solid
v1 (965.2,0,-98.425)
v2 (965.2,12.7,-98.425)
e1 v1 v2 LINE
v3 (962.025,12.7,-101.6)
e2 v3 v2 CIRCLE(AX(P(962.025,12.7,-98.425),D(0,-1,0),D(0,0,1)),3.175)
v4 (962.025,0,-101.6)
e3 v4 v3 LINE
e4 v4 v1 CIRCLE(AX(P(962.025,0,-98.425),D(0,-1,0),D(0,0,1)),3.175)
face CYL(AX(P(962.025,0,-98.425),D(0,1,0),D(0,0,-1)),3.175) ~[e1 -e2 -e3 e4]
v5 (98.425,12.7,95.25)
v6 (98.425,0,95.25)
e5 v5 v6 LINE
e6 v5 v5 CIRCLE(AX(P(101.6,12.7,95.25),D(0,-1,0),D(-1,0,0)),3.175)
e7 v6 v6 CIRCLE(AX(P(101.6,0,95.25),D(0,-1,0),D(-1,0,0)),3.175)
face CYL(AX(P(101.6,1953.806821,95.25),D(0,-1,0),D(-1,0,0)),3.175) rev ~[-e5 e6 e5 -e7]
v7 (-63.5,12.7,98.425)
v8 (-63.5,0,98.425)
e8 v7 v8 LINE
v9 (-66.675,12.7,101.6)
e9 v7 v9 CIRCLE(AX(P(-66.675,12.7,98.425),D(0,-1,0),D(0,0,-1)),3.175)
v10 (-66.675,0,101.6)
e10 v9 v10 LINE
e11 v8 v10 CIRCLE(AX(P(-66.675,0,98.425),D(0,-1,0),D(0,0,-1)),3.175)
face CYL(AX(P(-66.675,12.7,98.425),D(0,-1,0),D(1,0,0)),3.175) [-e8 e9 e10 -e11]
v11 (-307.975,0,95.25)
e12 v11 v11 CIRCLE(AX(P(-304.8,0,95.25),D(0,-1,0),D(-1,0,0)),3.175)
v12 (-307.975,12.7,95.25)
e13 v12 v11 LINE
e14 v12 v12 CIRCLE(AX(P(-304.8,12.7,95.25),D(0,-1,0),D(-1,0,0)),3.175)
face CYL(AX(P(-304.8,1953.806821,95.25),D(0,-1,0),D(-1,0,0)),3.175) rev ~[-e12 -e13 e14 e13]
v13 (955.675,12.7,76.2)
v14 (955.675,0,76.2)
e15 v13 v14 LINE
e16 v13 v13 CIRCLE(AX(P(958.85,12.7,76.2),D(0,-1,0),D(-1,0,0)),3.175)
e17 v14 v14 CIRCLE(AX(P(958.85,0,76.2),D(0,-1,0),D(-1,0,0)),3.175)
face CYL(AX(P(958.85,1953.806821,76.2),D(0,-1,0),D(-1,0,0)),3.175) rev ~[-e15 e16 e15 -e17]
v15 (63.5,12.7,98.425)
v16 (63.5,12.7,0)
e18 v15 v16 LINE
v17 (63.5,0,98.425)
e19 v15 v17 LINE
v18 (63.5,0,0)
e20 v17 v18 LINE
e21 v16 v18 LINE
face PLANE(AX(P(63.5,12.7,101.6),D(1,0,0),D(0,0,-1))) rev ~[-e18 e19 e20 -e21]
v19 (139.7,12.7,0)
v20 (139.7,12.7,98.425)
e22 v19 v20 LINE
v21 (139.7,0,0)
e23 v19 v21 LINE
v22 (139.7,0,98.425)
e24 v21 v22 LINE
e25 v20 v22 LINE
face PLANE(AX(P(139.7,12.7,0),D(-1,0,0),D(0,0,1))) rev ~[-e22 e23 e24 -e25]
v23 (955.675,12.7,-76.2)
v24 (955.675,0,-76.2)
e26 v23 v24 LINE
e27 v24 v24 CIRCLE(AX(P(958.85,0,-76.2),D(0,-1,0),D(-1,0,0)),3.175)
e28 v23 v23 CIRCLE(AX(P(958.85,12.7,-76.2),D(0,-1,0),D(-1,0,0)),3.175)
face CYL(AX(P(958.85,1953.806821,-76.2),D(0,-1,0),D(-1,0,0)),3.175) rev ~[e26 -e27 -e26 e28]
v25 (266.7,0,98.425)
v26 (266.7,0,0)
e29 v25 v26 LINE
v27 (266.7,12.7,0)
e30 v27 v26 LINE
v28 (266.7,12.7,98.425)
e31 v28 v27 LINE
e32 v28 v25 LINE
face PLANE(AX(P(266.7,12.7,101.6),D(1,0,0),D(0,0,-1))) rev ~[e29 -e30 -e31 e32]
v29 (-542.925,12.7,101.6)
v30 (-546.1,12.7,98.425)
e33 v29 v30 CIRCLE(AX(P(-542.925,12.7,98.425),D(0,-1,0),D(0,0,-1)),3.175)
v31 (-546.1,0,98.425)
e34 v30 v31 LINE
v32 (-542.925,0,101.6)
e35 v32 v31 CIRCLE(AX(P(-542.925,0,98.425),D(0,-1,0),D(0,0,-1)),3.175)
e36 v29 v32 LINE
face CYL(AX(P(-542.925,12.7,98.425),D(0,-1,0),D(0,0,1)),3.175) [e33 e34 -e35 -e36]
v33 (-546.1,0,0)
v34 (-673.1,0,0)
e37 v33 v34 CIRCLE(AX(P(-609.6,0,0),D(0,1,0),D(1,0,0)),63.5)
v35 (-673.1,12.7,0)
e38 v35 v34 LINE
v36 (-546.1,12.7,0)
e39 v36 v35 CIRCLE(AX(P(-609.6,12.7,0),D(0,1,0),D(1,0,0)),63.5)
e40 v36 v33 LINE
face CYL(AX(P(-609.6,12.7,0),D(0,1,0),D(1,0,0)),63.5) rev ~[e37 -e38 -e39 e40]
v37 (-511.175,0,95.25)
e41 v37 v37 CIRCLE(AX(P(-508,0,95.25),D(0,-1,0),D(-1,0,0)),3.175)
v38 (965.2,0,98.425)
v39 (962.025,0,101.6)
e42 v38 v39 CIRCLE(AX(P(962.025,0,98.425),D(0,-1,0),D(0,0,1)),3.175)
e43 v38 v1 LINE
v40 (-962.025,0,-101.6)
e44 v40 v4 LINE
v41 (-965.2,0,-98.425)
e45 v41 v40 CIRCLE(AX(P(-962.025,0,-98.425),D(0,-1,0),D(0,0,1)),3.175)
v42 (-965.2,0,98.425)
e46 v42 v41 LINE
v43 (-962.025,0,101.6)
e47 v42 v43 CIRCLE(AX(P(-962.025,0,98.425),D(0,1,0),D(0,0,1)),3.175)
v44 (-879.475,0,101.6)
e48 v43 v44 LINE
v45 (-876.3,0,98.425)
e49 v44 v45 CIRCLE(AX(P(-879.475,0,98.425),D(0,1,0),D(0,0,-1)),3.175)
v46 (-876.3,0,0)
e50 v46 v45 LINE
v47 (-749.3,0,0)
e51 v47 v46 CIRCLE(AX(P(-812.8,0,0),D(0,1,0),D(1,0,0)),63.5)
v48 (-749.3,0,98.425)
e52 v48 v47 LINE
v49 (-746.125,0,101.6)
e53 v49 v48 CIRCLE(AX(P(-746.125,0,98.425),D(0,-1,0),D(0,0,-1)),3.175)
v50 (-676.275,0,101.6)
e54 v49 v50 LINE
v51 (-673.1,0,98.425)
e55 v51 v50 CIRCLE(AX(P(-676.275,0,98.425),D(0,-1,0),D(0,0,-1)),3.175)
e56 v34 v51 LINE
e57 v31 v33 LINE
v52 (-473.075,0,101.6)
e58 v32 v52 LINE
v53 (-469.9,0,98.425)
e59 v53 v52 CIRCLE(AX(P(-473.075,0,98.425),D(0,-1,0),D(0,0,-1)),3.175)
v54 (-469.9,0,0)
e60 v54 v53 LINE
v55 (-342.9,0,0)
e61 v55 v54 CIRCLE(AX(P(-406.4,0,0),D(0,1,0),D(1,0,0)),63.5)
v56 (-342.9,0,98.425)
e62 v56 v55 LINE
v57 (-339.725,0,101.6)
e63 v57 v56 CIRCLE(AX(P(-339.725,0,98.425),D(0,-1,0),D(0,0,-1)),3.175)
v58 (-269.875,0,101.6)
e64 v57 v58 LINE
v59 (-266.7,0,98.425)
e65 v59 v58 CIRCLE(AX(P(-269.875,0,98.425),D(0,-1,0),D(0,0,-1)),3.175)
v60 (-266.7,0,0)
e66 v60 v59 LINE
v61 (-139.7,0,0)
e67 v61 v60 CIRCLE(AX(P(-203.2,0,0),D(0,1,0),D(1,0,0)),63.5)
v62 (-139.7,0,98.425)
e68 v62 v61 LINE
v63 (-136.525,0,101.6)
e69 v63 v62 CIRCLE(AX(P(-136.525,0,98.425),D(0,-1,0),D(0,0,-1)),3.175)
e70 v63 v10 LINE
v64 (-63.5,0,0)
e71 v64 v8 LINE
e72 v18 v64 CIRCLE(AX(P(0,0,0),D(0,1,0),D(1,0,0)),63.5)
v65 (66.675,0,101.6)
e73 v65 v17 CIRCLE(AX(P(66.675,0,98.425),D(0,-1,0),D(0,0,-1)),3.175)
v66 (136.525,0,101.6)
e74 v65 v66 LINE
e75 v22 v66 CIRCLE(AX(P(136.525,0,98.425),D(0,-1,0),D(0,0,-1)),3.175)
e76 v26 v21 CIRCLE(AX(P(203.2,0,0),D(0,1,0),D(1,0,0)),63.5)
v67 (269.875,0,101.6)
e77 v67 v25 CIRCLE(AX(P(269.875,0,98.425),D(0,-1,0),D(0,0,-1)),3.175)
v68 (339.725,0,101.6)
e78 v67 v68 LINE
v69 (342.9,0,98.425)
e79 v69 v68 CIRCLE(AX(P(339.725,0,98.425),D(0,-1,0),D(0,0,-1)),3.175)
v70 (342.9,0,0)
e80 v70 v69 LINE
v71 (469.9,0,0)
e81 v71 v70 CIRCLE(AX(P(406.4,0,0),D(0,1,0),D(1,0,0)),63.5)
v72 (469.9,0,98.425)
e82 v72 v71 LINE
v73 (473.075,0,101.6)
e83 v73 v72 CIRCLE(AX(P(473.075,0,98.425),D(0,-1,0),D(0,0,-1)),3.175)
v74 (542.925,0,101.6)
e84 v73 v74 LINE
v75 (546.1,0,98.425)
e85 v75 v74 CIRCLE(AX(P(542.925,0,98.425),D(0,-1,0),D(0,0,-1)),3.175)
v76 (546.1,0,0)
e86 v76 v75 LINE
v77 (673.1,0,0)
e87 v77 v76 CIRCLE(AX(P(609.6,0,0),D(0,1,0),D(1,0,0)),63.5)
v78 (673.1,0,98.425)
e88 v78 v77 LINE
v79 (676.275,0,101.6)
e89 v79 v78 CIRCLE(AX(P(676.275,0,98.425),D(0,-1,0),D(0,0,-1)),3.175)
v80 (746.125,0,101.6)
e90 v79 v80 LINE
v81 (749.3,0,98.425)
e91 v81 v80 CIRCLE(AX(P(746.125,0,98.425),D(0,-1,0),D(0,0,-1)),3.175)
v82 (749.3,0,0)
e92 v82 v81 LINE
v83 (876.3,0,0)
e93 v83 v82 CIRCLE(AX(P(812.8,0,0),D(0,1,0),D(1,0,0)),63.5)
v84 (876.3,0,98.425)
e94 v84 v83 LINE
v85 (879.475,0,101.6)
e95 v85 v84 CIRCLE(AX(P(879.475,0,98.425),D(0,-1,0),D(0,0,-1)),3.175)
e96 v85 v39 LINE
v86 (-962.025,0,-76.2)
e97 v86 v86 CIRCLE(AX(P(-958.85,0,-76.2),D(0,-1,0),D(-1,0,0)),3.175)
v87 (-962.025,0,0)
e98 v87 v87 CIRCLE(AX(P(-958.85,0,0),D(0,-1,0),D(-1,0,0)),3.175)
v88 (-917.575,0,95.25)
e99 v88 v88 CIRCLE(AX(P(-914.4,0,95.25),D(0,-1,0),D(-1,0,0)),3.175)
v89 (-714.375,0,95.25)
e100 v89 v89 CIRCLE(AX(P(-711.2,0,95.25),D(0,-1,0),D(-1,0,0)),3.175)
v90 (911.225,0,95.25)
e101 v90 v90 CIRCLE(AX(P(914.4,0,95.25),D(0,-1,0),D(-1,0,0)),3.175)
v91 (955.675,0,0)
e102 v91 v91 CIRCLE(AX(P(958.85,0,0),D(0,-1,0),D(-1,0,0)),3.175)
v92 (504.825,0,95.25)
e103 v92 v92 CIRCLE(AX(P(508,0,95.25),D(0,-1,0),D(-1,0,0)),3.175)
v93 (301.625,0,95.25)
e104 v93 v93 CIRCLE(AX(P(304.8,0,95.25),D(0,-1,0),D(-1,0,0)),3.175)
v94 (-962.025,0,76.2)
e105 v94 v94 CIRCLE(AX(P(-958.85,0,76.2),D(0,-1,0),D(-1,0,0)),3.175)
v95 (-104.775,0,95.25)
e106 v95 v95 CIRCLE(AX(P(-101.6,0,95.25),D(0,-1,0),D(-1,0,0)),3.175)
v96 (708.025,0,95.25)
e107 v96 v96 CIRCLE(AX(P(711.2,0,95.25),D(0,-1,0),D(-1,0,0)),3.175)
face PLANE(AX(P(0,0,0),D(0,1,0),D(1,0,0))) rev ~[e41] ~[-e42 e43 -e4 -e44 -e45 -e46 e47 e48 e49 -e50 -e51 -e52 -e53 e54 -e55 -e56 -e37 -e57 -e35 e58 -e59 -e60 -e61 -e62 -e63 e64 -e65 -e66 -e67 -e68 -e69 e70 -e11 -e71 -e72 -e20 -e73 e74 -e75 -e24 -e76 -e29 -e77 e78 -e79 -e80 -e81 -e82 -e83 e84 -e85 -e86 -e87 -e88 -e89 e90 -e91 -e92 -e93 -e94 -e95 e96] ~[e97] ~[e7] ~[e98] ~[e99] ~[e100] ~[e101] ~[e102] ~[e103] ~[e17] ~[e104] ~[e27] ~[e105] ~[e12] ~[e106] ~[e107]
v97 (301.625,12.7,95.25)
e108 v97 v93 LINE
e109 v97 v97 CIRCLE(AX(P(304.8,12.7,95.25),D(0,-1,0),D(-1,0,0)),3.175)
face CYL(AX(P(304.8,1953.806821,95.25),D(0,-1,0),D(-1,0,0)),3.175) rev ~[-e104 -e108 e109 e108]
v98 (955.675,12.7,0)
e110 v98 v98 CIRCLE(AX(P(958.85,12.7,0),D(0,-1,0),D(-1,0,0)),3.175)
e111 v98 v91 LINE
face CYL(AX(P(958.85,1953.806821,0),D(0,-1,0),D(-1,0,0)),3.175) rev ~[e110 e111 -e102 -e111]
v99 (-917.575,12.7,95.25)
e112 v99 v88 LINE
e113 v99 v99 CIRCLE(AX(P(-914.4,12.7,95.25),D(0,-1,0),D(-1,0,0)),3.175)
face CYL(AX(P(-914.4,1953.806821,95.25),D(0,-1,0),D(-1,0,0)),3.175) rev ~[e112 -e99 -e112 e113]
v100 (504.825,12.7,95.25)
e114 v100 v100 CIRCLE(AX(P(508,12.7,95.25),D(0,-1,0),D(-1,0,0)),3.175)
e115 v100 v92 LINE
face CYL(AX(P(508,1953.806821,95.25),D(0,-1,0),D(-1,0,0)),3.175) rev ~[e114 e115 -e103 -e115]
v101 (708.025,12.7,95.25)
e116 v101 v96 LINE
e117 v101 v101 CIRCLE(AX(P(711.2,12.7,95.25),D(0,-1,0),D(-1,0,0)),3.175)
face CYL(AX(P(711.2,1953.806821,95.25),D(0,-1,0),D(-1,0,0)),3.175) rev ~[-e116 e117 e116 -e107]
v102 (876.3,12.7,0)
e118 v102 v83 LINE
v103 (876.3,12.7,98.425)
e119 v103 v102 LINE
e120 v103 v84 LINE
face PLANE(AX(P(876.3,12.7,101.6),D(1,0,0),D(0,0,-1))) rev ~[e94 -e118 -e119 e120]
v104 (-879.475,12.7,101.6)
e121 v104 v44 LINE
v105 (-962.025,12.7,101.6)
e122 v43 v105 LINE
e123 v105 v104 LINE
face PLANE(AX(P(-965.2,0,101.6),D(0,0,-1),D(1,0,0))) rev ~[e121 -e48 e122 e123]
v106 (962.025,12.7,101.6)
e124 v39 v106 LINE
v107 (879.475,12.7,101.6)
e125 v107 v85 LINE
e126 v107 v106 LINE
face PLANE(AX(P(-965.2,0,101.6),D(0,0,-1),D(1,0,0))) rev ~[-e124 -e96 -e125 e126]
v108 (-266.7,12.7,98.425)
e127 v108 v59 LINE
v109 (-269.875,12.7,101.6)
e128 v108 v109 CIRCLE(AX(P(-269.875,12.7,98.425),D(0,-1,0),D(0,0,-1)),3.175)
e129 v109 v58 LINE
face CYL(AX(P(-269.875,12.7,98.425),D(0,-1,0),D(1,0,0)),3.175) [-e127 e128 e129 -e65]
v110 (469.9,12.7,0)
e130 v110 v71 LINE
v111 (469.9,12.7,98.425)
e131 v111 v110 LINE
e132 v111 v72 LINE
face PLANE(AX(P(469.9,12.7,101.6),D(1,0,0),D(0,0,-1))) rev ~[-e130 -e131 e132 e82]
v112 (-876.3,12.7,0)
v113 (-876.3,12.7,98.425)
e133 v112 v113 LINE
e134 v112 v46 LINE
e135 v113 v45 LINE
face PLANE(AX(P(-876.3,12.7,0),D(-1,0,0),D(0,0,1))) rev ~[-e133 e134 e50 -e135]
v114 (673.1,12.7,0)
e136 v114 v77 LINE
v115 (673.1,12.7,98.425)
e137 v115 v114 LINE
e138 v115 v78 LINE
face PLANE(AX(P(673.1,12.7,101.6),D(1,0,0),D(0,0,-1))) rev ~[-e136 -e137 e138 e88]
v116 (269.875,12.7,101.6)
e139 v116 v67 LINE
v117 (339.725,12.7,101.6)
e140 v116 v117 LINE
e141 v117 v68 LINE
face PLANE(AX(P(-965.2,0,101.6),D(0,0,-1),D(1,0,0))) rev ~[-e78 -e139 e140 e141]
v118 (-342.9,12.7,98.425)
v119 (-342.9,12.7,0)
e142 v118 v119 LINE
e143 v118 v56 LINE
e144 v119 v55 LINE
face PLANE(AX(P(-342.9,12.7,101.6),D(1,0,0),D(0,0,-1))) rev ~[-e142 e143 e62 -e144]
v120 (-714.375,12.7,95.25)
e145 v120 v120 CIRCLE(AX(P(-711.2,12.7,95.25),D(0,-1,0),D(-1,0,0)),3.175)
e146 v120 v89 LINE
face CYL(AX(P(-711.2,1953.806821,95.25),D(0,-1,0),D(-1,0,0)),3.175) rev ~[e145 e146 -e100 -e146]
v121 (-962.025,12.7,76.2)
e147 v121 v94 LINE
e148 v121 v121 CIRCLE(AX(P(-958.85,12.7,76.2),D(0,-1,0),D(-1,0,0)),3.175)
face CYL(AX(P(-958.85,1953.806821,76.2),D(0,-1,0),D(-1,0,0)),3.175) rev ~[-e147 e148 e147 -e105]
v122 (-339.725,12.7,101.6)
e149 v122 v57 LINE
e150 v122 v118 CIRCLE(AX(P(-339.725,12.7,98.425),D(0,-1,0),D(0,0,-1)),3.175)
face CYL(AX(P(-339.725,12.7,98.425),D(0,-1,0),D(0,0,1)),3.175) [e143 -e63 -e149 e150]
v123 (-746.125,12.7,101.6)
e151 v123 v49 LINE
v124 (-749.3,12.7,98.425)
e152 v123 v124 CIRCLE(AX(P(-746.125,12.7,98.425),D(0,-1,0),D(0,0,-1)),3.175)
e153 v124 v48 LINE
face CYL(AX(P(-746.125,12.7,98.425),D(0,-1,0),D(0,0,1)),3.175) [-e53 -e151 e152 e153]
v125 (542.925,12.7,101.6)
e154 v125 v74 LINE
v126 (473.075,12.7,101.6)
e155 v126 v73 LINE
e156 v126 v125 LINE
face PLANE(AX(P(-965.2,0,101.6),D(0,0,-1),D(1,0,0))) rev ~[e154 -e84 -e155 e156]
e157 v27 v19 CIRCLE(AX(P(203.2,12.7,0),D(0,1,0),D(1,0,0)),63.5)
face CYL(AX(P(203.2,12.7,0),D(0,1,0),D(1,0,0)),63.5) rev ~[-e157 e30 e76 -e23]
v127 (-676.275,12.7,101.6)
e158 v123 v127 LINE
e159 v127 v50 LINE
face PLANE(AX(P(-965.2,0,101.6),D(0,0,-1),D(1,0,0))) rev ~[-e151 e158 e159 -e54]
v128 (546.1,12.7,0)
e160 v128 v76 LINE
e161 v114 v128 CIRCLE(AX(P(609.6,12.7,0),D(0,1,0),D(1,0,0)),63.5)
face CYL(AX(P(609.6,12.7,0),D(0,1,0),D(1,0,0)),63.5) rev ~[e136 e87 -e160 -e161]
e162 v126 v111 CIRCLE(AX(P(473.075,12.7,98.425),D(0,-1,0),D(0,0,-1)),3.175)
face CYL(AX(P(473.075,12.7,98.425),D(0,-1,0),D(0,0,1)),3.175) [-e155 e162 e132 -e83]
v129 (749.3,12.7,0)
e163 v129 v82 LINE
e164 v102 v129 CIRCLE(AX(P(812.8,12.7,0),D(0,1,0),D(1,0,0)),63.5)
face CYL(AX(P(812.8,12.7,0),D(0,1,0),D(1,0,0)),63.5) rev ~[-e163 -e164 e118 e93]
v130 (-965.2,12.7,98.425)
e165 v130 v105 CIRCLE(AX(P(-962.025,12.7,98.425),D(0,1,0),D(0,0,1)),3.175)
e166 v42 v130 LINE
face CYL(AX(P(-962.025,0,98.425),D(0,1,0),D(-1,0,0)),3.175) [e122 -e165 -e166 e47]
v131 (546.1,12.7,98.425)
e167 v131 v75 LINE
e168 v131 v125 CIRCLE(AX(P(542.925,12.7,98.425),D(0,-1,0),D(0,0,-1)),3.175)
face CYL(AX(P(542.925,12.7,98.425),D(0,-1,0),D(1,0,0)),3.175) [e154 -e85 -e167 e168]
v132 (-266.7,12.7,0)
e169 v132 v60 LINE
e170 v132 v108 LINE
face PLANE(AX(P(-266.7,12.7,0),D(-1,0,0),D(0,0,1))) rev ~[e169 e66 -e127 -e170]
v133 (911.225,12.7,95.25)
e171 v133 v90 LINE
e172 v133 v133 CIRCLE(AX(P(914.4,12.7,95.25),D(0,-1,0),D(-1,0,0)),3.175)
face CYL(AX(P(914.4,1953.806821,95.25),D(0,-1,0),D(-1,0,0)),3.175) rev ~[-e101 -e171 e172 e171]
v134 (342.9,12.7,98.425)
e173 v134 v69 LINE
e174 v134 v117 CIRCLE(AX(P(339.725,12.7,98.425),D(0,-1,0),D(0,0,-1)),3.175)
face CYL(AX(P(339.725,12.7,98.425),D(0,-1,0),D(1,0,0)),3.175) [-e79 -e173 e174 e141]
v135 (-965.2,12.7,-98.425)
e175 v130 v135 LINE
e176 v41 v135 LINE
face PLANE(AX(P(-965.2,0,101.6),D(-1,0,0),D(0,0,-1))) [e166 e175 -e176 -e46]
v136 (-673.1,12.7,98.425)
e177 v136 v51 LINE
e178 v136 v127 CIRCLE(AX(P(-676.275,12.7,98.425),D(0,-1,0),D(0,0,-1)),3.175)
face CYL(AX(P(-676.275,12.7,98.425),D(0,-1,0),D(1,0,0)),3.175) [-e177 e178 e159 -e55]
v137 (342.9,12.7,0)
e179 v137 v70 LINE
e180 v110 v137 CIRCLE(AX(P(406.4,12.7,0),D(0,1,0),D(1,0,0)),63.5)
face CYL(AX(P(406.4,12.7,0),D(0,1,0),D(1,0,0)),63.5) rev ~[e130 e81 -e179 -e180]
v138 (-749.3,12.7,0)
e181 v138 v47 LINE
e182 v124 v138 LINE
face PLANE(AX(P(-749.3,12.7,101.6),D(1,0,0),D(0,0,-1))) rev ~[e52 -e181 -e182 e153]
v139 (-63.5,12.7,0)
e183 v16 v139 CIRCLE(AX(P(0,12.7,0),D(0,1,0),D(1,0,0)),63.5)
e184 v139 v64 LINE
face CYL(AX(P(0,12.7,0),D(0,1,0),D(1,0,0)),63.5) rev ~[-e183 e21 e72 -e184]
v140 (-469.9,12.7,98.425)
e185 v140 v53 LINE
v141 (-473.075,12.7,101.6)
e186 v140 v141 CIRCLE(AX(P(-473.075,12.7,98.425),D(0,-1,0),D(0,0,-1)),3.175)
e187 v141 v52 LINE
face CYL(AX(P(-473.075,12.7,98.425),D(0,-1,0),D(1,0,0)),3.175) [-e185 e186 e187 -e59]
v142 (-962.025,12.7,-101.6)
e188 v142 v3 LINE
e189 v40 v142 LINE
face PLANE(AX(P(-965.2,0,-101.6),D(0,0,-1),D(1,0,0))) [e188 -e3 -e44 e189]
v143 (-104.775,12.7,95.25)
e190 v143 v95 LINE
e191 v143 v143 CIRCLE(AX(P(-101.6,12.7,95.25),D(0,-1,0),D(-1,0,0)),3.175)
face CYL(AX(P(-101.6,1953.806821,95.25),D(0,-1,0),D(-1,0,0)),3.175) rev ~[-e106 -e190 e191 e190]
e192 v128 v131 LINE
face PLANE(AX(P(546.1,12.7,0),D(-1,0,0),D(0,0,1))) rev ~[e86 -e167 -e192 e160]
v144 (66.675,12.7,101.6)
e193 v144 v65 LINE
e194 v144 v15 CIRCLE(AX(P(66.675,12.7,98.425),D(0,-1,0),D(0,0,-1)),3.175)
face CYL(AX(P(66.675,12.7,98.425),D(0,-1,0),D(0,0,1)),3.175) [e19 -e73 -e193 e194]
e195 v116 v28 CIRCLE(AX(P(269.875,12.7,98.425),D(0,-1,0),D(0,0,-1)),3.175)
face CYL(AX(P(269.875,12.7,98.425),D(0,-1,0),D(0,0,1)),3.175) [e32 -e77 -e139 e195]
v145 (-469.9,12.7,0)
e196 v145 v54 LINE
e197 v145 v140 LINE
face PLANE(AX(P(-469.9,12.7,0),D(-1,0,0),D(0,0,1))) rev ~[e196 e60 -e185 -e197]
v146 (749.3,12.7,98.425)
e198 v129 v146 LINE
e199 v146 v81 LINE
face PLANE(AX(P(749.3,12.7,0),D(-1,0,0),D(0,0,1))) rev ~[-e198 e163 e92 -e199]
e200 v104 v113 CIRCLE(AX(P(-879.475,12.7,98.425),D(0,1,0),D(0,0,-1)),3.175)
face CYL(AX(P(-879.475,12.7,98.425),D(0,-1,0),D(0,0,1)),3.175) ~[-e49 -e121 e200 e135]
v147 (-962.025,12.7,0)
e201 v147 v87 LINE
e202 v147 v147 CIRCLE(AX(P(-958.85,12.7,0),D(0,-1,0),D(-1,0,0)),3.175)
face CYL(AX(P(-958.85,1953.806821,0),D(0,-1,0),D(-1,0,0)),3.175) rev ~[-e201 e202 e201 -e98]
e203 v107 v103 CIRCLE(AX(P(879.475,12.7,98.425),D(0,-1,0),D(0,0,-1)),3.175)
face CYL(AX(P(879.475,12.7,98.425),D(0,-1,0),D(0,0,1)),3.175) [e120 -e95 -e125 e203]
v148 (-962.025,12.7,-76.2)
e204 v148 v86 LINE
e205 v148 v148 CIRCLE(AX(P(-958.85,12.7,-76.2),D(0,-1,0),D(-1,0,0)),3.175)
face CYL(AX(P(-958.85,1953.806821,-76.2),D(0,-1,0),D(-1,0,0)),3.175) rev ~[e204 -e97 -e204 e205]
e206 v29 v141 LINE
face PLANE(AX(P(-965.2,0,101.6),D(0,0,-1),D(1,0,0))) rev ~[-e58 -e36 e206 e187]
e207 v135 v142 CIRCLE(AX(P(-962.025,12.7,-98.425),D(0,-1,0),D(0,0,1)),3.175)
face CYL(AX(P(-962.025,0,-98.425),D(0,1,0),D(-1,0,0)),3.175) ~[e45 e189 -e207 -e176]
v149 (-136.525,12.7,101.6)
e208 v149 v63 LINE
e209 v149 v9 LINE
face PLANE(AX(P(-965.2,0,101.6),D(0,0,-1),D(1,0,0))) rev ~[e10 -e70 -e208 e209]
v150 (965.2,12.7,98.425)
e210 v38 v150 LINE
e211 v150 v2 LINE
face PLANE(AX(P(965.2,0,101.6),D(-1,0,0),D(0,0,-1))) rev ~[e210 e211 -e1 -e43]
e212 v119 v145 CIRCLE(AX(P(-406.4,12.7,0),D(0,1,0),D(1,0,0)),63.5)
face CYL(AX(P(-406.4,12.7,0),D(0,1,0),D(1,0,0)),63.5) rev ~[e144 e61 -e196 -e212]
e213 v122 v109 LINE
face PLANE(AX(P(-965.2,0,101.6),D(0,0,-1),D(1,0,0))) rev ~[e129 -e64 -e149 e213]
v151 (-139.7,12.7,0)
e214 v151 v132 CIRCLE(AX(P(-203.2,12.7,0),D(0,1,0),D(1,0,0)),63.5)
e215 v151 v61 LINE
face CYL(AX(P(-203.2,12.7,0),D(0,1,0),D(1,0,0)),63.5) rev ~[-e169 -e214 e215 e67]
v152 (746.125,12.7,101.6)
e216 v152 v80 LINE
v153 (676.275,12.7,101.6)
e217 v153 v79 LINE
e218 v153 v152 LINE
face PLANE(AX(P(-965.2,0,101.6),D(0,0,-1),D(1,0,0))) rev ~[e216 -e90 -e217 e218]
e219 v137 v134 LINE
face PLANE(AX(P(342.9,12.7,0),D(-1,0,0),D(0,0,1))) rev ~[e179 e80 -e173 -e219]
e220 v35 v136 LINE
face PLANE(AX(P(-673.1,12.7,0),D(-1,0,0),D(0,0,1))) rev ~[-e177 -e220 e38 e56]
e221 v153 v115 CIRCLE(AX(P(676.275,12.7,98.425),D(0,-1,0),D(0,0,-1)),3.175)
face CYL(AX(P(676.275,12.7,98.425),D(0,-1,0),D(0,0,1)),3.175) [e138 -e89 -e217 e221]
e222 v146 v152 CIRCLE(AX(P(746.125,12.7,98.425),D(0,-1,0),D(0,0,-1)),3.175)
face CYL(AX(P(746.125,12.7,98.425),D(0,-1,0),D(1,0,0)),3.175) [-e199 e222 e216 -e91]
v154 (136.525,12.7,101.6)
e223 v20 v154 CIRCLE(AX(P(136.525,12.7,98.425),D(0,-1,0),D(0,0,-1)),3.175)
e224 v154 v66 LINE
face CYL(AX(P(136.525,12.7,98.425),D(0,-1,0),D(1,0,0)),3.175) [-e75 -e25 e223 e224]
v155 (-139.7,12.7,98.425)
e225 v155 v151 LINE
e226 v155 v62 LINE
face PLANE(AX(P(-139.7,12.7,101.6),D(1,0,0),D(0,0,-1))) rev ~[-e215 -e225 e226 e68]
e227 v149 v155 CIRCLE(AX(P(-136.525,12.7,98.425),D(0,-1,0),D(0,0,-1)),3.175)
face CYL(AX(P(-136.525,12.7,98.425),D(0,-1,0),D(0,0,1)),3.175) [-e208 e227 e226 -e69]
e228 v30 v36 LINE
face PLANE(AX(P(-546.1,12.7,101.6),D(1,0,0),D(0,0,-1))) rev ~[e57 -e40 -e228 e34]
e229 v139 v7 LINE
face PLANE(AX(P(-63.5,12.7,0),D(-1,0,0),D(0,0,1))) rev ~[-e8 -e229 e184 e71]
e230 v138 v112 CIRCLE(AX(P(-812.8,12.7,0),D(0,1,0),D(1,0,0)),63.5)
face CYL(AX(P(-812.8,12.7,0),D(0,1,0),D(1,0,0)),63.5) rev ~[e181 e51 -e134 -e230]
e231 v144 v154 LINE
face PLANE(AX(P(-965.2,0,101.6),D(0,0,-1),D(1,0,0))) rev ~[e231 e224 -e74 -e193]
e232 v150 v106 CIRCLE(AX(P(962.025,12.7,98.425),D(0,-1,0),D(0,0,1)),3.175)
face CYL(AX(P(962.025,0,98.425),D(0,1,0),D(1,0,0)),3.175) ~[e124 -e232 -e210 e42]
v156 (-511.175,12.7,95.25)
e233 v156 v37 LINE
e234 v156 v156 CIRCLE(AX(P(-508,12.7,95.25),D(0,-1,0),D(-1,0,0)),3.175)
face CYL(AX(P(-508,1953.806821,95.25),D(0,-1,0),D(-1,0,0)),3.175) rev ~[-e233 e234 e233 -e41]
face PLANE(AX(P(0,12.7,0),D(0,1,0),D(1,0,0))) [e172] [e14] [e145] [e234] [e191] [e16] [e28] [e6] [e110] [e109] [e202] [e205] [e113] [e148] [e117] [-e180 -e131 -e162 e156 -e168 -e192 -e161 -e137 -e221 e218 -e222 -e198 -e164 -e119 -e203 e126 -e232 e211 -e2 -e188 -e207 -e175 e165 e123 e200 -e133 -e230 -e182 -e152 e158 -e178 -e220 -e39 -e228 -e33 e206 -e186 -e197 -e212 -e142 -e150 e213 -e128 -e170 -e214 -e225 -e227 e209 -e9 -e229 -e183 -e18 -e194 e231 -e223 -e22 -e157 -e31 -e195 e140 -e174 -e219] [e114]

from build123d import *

# Parameters (mm, degrees)
SKETCH1_W                   = 1930.4
SKETCH1_H                   = 203.2
BOSS_EXTRUDE1_DEPTH         = 12.7
CUT_EXTRUDE1_DEPTH          = 13.7
FILLET1_R                   = 3.175
F_1_4_0_25_DIAMETER_HOLE1_D = 6.35


with BuildPart() as part:
    # Sketch1 → Boss-Extrude1 (new body)
    with BuildSketch(Plane(origin=(0, 0, 0), x_dir=(1, 0, 0), z_dir=(0, 1, 0))):
        Rectangle(SKETCH1_W, SKETCH1_H)
    extrude(amount=BOSS_EXTRUDE1_DEPTH)

    # Sketch2 → Cut-Extrude1 (cut, through all)
    with BuildSketch(Plane(origin=(0, 12.7, 0), x_dir=(1, 0, 0), z_dir=(0, 1, 0))):
        with BuildLine():
            Line((-876.3, 0), (-876.3, -101.6))
            Line((-876.3, -101.6), (-749.3, -101.6))
            Line((-749.3, -101.6), (-749.3, 0))
            ThreePointArc((-749.3, 0), (-812.8, 63.5), (-876.3, 0))
        make_face()
        with BuildLine():
            Line((-673.1, 0), (-673.1, -101.6))
            Line((-673.1, -101.6), (-546.1, -101.6))
            Line((-546.1, -101.6), (-546.1, 0))
            ThreePointArc((-546.1, 0), (-609.6, 63.5), (-673.1, 0))
        make_face()
        with BuildLine():
            Line((-469.9, 0), (-469.9, -101.6))
            Line((-469.9, -101.6), (-342.9, -101.6))
            Line((-342.9, -101.6), (-342.9, 0))
            ThreePointArc((-342.9, 0), (-406.4, 63.5), (-469.9, 0))
        make_face()
        with BuildLine():
            Line((-266.7, 0), (-266.7, -101.6))
            Line((-266.7, -101.6), (-139.7, -101.6))
            Line((-139.7, -101.6), (-139.7, 0))
            ThreePointArc((-139.7, 0), (-203.2, 63.5), (-266.7, 0))
        make_face()
        with BuildLine():
            Line((-63.5, 0), (-63.5, -101.6))
            Line((-63.5, -101.6), (63.5, -101.6))
            Line((63.5, -101.6), (63.5, 0))
            ThreePointArc((63.5, 0), (0, 63.5), (-63.5, 0))
        make_face()
        with BuildLine():
            Line((139.7, 0), (139.7, -101.6))
            Line((139.7, -101.6), (266.7, -101.6))
            Line((266.7, -101.6), (266.7, 0))
            ThreePointArc((266.7, 0), (203.2, 63.5), (139.7, 0))
        make_face()
        with BuildLine():
            Line((342.9, 0), (342.9, -101.6))
            Line((342.9, -101.6), (469.9, -101.6))
            Line((469.9, -101.6), (469.9, 0))
            ThreePointArc((469.9, 0), (406.4, 63.5), (342.9, 0))
        make_face()
        with BuildLine():
            Line((546.1, 0), (546.1, -101.6))
            Line((546.1, -101.6), (673.1, -101.6))
            Line((673.1, -101.6), (673.1, 0))
            ThreePointArc((673.1, 0), (609.6, 63.5), (546.1, 0))
        make_face()
        with BuildLine():
            Line((749.3, 0), (749.3, -101.6))
            Line((749.3, -101.6), (876.3, -101.6))
            Line((876.3, -101.6), (876.3, 0))
            ThreePointArc((876.3, 0), (812.8, 63.5), (749.3, 0))
        make_face()
    extrude(amount=-CUT_EXTRUDE1_DEPTH, mode=Mode.SUBTRACT)

    # Fillet1
    fillet1_edges = [part.edges().sort_by_distance(p)[0] for p in [
        (546.1, 6.35, 101.6),
        (876.3, 6.35, 101.6),
        (749.3, 6.35, 101.6),
        (-749.3, 6.35, 101.6),
        (-876.3, 6.35, 101.6),
        (-546.1, 6.35, 101.6),
        (-673.1, 6.35, 101.6),
        (-342.9, 6.35, 101.6),
        (-469.9, 6.35, 101.6),
        (-139.7, 6.35, 101.6),
        (-266.7, 6.35, 101.6),
        (-965.2, 6.35, 101.6),
        (-965.2, 6.35, -101.6),
        (965.2, 6.35, -101.6),
        (965.2, 6.35, 101.6),
        (63.5, 6.35, 101.6),
        (-63.5, 6.35, 101.6),
        (266.7, 6.35, 101.6),
        (139.7, 6.35, 101.6),
        (469.9, 6.35, 101.6),
        (342.9, 6.35, 101.6),
        (673.1, 6.35, 101.6),
    ]]
    fillet(fillet1_edges, radius=FILLET1_R)

    # 1/4 (0.25) Diameter Hole1 (through all)
    with Locations(Plane(origin=(0, 12.7, 0), x_dir=(1, 0, 0), z_dir=(0, 1, 0))):
        with Locations((-958.85, 76.2), (-958.85, 0), (-958.85, -76.2), (958.85, -76.2), (958.85, 0), (958.85, 76.2), (-914.4, -95.25), (-711.2, -95.25), (-508, -95.25), (-304.8, -95.25), (-101.6, -95.25), (101.6, -95.25), (304.8, -95.25), (508, -95.25), (711.2, -95.25), (914.4, -95.25)):
            Hole(F_1_4_0_25_DIAMETER_HOLE1_D / 2)


solid = part.part
